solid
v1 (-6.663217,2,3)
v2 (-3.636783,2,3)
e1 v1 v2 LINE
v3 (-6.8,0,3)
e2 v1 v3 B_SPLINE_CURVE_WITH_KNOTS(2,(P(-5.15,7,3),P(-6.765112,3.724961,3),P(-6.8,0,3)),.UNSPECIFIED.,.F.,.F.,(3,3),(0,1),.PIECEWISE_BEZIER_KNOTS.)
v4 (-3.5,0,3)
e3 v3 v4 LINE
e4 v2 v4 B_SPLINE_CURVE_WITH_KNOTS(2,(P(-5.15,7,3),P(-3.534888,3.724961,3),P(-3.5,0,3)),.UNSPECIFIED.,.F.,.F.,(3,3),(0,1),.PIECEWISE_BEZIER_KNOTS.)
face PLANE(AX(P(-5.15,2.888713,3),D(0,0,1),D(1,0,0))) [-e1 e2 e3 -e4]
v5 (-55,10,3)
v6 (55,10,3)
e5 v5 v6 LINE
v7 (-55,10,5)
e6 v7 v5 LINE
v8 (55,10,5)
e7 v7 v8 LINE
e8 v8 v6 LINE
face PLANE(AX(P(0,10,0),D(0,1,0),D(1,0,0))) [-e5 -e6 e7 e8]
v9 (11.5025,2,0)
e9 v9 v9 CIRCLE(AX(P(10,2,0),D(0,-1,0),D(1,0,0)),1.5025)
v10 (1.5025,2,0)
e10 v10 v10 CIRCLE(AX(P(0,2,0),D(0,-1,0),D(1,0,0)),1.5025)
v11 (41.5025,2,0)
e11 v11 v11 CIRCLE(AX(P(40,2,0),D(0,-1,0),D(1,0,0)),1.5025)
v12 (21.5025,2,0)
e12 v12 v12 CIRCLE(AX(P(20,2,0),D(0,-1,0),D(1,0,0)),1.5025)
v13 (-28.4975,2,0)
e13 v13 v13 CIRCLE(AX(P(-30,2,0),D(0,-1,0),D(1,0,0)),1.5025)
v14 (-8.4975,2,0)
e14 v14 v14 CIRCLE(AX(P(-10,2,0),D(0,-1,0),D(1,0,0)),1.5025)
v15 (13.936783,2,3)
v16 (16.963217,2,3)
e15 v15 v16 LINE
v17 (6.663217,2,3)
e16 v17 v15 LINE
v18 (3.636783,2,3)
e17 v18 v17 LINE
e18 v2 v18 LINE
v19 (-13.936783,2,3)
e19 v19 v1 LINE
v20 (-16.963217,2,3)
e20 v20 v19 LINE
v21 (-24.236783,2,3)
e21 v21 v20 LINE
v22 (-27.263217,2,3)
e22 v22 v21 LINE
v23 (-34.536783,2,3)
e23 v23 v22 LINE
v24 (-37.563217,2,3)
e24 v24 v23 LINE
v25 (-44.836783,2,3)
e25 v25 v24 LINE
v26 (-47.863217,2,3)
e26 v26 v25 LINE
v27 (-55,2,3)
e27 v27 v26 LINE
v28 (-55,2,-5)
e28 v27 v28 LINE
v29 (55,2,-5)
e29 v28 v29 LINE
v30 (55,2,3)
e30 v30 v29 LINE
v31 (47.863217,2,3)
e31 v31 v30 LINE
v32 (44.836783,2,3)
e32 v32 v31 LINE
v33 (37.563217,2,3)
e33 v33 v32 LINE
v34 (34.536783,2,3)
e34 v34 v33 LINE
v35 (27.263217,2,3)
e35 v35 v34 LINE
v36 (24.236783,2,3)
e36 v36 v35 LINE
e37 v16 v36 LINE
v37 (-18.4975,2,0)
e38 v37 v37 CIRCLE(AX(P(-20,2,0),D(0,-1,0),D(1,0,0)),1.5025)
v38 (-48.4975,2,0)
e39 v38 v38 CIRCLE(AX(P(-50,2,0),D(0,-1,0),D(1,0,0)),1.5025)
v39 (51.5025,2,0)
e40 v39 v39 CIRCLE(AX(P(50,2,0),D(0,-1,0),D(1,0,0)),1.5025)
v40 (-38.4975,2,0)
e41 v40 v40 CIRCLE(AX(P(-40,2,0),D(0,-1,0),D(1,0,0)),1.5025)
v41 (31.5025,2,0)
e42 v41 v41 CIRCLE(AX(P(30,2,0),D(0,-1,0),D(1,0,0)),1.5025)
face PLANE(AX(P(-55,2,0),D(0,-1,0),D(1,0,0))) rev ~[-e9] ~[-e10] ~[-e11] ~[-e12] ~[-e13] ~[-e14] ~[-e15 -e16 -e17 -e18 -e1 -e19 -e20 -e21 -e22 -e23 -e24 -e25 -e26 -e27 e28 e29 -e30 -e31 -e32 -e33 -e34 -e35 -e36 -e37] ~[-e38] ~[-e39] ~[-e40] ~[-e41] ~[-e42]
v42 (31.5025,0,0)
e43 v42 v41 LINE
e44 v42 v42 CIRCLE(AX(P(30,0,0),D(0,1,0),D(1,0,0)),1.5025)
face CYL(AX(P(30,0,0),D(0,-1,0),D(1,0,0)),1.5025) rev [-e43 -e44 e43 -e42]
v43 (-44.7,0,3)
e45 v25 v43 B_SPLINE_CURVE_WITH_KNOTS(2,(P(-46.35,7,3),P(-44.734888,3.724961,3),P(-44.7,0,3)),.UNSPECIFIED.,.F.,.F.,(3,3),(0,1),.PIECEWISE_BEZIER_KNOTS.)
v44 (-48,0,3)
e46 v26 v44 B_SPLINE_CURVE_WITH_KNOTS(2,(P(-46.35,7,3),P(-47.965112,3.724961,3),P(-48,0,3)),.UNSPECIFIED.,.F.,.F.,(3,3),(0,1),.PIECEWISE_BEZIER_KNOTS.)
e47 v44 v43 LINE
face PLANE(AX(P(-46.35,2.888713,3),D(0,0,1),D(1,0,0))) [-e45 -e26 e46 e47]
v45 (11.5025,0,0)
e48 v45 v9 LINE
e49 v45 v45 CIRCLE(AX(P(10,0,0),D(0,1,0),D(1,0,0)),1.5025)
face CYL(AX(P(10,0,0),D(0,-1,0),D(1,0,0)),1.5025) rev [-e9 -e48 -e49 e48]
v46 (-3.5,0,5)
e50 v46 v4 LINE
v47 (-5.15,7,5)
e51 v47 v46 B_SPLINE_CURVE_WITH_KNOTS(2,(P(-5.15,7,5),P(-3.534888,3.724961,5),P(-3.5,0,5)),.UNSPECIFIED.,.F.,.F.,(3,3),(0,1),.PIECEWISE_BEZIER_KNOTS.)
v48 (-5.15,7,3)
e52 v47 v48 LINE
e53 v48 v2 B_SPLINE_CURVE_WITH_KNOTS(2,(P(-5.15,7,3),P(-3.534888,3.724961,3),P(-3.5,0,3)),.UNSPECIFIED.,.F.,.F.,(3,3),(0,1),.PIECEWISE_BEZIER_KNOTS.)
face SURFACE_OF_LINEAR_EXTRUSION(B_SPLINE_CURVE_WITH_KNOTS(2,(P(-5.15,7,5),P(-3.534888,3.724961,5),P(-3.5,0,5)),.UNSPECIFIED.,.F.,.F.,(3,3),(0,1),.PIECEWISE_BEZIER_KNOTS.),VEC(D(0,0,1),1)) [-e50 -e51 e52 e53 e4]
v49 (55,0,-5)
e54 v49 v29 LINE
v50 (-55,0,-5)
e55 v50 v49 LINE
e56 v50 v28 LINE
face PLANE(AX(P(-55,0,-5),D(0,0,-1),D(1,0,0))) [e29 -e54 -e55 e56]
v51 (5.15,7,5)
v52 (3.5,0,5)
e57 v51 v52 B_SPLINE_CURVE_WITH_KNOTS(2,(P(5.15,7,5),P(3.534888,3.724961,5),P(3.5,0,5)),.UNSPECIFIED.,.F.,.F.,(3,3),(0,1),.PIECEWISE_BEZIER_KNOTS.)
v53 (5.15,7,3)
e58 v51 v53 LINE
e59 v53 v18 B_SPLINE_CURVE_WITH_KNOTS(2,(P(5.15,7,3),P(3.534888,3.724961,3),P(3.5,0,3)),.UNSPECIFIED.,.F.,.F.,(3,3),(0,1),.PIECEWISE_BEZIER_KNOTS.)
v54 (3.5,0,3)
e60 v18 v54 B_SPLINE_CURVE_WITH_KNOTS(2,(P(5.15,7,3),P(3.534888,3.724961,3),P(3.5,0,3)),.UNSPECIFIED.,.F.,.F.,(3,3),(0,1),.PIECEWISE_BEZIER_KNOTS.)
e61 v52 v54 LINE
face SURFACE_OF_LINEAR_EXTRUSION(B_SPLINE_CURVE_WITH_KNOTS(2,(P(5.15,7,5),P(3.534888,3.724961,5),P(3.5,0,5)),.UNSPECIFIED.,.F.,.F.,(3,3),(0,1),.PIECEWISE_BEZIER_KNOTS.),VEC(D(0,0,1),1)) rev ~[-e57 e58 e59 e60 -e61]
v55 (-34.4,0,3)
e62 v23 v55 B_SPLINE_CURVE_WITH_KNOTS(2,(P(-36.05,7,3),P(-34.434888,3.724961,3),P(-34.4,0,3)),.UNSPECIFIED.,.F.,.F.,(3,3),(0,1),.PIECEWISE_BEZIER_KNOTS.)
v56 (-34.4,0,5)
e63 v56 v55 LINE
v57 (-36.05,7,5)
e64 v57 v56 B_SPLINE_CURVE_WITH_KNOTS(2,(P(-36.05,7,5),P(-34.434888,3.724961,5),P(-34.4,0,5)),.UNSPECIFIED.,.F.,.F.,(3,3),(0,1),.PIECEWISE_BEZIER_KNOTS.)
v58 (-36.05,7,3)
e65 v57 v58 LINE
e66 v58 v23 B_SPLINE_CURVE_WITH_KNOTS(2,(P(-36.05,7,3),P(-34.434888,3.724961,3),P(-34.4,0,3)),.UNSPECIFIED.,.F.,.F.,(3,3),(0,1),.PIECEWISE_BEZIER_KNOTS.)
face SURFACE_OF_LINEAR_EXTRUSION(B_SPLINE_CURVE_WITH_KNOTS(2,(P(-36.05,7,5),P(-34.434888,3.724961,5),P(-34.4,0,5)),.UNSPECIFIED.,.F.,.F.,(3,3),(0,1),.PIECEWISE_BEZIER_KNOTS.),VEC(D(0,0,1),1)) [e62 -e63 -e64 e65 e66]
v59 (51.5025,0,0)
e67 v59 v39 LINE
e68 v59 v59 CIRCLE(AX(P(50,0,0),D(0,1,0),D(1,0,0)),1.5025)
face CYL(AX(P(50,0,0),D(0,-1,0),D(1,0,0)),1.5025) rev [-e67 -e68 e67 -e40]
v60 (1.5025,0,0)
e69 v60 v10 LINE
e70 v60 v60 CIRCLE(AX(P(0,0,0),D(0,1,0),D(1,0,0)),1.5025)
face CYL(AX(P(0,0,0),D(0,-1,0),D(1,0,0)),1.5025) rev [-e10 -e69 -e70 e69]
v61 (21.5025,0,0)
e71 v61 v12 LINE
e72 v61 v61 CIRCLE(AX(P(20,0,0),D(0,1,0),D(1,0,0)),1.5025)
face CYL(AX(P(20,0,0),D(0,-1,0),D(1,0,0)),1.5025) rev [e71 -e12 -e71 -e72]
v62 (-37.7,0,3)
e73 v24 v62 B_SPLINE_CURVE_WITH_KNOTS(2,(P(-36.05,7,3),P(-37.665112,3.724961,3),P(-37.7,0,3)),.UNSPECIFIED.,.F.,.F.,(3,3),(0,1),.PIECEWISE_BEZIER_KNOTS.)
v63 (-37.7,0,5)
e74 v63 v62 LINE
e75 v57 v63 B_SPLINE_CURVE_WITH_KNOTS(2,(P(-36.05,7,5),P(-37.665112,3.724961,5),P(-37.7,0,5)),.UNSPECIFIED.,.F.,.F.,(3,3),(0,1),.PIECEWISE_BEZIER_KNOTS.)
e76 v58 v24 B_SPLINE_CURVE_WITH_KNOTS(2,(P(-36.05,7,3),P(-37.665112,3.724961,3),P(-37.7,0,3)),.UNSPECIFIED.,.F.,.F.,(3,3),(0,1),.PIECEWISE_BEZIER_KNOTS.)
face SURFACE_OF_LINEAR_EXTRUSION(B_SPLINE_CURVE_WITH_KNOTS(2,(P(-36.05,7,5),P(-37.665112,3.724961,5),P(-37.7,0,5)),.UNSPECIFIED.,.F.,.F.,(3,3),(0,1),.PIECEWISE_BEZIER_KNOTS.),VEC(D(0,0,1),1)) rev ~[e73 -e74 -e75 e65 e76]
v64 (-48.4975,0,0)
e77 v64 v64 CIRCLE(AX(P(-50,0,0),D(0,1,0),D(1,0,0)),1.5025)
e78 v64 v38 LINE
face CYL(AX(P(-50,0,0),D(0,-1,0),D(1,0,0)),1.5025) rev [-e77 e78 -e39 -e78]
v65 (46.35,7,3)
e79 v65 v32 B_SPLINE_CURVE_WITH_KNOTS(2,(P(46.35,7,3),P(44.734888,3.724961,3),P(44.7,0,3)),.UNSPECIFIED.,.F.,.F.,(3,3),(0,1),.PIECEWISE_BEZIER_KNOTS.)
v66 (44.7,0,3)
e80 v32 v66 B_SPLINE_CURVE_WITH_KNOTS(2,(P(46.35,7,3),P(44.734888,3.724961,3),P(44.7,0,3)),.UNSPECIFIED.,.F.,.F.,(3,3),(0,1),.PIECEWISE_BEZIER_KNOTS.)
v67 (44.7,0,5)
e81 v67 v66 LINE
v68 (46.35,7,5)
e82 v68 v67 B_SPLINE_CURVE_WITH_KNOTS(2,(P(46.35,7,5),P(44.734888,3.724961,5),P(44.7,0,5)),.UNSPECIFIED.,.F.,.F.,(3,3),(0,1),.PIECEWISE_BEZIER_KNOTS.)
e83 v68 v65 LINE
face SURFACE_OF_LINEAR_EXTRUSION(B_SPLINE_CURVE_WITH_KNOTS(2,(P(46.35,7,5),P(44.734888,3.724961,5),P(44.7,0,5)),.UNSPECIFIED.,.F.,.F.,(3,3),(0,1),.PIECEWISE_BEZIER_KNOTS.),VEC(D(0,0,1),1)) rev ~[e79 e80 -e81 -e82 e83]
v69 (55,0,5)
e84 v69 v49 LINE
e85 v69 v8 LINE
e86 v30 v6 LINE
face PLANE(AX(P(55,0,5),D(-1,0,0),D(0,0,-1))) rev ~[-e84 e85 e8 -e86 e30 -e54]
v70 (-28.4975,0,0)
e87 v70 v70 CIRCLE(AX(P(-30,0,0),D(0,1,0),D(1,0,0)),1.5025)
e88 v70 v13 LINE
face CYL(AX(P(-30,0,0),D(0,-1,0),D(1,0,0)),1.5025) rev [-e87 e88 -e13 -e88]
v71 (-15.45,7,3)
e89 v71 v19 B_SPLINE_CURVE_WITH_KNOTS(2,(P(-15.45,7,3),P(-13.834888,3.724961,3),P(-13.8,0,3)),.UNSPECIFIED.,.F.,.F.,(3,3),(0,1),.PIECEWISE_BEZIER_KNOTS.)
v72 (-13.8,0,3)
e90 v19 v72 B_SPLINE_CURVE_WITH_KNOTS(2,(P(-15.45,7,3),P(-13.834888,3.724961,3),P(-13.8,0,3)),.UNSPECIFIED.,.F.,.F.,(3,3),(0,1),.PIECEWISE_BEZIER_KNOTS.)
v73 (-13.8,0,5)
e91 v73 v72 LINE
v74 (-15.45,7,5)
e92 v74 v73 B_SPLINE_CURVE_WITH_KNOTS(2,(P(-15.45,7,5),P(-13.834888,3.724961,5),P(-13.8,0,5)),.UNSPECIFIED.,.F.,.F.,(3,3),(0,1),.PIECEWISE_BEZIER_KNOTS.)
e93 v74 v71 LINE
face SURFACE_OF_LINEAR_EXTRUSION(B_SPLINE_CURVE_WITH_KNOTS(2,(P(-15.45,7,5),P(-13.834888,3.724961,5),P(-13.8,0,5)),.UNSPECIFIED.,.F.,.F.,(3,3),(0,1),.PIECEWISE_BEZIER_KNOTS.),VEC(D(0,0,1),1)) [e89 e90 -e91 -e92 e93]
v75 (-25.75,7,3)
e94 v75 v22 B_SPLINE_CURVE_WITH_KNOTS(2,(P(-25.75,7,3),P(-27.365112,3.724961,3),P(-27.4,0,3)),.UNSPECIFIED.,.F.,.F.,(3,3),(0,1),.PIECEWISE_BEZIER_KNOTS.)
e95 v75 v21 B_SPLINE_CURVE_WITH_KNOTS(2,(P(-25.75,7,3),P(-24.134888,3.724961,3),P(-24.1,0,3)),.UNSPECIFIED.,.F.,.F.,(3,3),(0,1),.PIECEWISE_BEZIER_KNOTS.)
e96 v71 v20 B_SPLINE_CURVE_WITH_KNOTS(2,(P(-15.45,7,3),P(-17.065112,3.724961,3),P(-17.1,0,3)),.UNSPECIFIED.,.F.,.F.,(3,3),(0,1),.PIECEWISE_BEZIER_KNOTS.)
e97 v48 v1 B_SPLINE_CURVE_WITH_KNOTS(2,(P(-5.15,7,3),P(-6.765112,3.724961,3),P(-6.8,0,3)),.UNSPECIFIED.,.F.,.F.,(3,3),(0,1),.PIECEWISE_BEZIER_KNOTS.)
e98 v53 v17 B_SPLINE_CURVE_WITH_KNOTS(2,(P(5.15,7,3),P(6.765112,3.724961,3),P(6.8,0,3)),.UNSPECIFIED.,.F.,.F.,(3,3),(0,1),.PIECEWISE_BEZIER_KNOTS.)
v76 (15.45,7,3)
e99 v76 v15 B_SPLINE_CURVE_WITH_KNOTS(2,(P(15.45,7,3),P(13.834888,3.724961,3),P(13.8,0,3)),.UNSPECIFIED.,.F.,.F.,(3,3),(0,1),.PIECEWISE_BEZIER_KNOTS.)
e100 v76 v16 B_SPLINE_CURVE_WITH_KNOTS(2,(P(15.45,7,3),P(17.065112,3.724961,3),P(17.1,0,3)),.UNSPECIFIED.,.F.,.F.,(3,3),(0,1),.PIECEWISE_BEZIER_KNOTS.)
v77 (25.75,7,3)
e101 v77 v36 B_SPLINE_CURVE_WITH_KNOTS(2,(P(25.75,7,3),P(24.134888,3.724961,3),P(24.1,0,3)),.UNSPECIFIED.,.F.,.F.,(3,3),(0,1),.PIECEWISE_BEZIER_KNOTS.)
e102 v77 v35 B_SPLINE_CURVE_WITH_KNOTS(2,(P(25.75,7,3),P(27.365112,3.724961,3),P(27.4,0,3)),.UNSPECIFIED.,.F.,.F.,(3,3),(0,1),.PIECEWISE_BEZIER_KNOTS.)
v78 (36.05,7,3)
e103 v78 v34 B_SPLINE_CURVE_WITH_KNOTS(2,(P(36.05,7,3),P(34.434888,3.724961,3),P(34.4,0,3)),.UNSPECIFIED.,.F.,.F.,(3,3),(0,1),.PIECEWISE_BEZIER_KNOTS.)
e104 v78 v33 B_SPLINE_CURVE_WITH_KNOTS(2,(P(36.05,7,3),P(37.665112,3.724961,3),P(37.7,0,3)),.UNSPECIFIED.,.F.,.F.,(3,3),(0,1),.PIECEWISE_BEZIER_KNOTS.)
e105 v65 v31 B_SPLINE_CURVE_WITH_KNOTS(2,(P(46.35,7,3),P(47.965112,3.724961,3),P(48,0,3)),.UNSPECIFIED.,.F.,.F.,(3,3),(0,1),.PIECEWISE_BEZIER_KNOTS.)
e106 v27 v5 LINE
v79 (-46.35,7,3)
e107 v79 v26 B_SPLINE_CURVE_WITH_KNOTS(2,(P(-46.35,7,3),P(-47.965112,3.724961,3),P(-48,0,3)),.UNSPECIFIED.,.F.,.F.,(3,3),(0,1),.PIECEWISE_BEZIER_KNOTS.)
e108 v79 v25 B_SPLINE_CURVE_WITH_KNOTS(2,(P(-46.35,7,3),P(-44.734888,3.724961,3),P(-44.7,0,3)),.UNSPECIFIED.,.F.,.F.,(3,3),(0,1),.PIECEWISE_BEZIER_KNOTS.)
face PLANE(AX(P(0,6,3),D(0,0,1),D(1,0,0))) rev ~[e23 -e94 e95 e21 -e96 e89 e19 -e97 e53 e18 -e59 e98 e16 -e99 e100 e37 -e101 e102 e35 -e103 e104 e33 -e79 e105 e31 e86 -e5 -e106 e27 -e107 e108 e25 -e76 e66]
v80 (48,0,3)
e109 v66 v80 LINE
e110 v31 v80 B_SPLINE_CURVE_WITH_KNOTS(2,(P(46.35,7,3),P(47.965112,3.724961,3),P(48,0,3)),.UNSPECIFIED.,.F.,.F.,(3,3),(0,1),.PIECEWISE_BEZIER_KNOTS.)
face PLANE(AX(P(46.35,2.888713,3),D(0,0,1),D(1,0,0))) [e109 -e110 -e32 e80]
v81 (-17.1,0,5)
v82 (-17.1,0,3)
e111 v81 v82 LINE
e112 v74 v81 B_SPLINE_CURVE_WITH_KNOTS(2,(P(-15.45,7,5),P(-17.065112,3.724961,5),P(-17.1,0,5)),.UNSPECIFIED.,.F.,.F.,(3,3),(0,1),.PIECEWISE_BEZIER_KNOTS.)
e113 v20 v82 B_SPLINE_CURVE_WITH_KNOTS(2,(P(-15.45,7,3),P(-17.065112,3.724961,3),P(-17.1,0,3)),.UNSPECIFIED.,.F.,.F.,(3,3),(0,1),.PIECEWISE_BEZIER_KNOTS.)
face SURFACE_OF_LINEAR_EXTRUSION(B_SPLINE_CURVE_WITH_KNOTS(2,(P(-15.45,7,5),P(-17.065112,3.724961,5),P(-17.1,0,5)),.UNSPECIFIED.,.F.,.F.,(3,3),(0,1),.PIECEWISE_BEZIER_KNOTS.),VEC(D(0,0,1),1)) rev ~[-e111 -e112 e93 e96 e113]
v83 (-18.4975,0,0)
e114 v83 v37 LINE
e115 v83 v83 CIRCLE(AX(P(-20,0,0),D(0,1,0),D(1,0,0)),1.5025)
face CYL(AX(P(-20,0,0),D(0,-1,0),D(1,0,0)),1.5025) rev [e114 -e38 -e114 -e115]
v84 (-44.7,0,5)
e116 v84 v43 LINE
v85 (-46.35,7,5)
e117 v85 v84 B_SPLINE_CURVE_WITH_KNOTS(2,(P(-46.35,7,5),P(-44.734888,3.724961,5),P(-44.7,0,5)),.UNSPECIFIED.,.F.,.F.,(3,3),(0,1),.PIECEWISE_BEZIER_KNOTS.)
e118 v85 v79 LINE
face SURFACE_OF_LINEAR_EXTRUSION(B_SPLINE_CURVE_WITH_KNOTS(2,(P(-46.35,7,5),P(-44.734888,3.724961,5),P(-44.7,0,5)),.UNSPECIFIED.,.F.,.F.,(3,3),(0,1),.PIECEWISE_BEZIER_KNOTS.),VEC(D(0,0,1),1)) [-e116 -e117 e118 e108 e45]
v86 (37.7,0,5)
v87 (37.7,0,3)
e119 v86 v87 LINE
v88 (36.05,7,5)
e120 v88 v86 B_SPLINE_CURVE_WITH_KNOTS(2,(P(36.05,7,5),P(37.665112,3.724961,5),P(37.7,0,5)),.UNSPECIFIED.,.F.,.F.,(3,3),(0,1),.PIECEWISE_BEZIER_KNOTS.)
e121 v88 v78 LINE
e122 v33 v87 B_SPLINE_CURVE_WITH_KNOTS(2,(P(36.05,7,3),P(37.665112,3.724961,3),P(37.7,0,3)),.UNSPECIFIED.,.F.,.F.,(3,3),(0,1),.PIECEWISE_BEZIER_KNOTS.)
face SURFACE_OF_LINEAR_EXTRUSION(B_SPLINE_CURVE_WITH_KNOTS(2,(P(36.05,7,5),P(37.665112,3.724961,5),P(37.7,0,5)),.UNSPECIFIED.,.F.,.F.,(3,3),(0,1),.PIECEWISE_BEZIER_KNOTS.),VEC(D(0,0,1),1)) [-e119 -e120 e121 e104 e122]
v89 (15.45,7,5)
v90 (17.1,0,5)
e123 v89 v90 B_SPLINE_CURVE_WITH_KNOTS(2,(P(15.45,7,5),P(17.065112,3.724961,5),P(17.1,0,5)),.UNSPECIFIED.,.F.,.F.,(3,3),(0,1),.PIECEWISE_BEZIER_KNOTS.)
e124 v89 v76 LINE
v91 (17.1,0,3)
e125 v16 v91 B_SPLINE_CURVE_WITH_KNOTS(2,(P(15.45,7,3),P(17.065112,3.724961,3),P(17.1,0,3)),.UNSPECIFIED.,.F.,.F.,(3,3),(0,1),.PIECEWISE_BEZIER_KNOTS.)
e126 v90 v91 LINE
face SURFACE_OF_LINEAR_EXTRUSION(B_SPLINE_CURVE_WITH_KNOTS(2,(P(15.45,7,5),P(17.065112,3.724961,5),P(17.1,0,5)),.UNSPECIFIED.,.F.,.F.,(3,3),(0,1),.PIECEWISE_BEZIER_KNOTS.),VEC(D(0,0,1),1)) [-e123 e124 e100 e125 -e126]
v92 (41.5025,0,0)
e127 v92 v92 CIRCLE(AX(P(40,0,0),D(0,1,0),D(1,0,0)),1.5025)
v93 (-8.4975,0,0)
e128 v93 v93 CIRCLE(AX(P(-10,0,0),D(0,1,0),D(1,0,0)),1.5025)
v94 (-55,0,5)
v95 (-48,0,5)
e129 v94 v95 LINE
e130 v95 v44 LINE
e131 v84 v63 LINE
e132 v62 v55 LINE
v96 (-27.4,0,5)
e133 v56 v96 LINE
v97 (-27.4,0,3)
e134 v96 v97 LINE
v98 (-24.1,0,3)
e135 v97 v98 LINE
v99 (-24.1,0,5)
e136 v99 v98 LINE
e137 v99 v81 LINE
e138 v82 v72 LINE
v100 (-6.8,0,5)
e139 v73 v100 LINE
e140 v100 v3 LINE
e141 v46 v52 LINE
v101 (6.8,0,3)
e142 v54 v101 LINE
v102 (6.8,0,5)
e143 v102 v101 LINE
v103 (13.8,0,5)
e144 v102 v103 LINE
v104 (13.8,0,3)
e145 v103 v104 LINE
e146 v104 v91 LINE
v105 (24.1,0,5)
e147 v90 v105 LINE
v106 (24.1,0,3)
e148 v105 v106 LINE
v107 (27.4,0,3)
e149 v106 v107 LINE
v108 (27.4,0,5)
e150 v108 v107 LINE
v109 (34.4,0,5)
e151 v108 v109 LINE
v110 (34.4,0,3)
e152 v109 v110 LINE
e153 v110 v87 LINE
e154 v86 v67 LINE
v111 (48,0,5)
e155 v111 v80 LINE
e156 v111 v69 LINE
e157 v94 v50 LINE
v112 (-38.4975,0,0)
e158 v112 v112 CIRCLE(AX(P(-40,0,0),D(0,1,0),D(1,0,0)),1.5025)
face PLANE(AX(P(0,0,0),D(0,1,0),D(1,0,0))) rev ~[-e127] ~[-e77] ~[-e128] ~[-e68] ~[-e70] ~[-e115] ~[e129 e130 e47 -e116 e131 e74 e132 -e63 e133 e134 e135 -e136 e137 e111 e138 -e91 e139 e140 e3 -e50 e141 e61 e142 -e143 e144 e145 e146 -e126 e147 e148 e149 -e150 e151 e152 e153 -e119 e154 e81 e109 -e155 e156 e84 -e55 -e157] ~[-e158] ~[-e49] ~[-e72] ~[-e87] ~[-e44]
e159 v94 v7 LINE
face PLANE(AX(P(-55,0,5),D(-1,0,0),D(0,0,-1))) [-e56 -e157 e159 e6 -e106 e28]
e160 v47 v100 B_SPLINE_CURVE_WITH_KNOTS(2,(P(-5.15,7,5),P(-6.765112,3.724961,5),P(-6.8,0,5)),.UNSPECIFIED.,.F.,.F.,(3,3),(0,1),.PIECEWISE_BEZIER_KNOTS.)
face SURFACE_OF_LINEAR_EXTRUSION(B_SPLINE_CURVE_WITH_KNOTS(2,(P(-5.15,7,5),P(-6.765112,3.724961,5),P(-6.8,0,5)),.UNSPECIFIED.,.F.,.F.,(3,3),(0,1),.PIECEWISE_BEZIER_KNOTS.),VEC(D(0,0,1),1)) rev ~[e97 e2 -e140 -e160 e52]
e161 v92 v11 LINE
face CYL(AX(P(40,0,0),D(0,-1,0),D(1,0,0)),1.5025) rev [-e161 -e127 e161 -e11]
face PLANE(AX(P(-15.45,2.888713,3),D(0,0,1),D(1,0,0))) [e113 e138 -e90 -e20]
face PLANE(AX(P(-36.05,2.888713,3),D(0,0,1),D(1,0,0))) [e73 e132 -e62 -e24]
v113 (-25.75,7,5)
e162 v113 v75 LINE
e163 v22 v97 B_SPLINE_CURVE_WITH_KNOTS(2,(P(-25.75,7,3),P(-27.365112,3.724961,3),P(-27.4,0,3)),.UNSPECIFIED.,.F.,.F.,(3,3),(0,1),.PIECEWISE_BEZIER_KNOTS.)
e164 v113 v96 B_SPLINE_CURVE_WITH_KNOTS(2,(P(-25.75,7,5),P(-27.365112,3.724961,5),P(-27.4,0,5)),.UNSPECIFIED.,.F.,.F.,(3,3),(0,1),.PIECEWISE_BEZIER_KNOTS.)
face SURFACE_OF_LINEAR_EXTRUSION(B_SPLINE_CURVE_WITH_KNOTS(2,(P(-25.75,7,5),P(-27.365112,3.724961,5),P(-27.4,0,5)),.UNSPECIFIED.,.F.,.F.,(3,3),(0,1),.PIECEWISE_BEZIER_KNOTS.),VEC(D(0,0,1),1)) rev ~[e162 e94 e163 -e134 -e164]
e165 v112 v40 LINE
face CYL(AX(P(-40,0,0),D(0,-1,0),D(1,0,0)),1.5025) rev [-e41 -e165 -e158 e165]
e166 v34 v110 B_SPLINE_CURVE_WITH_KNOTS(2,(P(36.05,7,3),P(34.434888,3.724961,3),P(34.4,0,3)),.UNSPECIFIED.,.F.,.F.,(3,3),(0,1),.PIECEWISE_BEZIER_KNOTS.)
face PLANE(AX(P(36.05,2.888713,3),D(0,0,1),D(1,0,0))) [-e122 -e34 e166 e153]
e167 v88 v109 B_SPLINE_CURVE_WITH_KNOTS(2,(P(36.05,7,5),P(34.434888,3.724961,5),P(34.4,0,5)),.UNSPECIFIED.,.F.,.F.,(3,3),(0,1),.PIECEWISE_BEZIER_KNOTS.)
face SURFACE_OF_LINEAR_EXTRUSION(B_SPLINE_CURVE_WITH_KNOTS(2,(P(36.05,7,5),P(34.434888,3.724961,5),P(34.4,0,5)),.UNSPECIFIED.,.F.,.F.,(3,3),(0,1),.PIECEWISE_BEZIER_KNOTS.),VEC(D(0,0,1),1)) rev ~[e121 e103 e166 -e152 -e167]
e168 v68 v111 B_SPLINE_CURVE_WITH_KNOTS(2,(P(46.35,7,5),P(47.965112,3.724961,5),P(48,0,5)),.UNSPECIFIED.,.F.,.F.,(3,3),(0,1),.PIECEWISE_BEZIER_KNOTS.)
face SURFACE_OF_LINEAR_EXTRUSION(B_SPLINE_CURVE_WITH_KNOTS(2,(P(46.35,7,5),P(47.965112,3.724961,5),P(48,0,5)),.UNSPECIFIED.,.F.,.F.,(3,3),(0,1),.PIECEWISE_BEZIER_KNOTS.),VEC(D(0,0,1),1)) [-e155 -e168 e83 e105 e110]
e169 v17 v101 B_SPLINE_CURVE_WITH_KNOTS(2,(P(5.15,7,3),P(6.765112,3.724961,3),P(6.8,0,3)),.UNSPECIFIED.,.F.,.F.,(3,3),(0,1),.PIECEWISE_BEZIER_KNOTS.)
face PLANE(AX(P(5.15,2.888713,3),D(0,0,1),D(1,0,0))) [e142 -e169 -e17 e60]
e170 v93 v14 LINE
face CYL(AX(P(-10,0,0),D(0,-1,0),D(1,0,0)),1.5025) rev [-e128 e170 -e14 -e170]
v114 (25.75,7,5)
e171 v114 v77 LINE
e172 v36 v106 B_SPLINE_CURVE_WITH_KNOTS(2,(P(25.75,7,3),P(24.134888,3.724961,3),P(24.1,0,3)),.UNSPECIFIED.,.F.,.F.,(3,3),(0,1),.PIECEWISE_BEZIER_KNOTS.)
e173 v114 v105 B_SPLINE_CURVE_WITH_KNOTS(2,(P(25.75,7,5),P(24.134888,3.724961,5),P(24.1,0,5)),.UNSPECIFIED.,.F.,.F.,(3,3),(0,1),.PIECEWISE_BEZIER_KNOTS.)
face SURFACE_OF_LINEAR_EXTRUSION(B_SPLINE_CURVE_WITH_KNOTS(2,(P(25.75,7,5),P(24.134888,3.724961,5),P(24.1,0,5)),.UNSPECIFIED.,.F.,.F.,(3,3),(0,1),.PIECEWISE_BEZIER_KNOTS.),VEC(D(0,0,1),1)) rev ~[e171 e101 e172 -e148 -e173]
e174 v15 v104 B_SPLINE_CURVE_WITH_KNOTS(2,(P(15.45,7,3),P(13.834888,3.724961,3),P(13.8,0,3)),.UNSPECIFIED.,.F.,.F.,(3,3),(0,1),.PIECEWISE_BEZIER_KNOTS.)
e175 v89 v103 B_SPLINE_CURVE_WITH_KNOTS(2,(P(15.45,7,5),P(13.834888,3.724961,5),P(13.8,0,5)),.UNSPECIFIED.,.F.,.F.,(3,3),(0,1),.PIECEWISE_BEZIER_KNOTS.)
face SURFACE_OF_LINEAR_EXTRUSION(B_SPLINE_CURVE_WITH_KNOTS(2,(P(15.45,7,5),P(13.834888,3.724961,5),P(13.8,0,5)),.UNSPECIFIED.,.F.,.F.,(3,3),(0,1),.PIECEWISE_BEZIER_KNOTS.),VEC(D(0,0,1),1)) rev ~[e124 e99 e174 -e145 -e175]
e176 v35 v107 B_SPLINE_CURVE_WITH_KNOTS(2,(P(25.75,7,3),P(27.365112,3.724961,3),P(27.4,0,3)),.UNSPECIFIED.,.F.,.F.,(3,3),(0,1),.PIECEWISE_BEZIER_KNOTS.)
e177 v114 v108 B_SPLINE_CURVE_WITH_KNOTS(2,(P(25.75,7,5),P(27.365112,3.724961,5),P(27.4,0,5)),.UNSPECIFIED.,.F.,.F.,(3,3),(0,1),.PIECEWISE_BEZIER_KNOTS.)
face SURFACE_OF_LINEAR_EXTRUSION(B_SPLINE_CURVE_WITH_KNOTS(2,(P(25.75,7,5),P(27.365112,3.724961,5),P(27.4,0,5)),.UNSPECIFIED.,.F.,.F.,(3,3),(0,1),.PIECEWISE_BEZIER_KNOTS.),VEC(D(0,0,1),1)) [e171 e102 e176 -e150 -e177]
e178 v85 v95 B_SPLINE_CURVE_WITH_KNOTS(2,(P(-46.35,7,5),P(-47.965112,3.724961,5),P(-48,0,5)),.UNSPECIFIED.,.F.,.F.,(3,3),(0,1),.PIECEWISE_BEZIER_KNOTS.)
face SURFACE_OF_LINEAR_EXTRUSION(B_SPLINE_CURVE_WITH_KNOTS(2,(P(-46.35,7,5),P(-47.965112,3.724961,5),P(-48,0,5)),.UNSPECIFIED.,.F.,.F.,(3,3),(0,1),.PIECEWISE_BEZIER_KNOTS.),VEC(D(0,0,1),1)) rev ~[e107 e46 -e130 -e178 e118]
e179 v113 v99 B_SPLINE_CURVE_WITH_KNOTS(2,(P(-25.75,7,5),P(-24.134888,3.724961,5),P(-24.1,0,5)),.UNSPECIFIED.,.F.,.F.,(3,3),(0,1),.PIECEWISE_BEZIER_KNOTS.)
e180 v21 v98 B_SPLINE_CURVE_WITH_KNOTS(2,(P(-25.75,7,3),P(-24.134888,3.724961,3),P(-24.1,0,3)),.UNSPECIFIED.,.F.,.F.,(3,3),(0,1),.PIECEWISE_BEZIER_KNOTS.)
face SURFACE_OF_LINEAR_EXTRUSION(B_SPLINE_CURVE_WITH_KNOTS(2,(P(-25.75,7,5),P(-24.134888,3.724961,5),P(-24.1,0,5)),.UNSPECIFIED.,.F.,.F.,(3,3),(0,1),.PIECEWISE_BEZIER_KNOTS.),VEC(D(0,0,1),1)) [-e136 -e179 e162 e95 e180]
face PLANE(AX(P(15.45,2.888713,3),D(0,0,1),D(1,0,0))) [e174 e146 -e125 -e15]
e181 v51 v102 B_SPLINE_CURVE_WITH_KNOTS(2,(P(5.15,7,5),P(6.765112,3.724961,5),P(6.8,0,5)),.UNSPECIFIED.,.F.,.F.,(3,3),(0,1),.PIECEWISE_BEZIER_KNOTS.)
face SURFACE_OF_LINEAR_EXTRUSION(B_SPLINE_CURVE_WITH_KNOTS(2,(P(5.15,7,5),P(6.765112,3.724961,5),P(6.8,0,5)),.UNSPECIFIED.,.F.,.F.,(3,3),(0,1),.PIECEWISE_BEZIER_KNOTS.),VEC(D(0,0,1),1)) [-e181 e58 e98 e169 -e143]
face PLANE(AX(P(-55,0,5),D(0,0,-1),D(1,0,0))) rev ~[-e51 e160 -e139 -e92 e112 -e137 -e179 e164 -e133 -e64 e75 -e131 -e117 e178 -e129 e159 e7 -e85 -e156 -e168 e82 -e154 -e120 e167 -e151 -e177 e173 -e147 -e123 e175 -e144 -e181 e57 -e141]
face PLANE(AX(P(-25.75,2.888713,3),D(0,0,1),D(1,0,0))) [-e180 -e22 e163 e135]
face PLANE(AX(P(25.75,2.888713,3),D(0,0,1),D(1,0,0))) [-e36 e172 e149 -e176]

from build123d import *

# Parameters (mm, degrees)
SKETCH1_W                      = 110
SKETCH1_H                      = 10
SKETCH1_R                      = 1.5025
BOSS_EXTRUDE1_DEPTH            = 10
CUT_EXTRUDE1_REACH             = 7
SKETCH2_W                      = 110
SKETCH2_H                      = 8
CUT_EXTRUDE1_DIRECTION_2_DEPTH = 3
CUT_EXTRUDE2_DEPTH             = 2


with BuildPart() as part:
    # Sketch1 → Boss-Extrude1 (new body)
    with BuildSketch(Plane(origin=(0, 0, 0), x_dir=(1, 0, 0), z_dir=(0, 1, 0))):
        Rectangle(SKETCH1_W, SKETCH1_H)
        with Locations((-50, 0)):
            Circle(SKETCH1_R, mode=Mode.SUBTRACT)
        with Locations((-40, 0)):
            Circle(SKETCH1_R, mode=Mode.SUBTRACT)
        with Locations((-30, 0)):
            Circle(SKETCH1_R, mode=Mode.SUBTRACT)
        with Locations((-20, 0)):
            Circle(SKETCH1_R, mode=Mode.SUBTRACT)
        with Locations((-10, 0)):
            Circle(SKETCH1_R, mode=Mode.SUBTRACT)
        Circle(SKETCH1_R, mode=Mode.SUBTRACT)
        with Locations((10, 0)):
            Circle(SKETCH1_R, mode=Mode.SUBTRACT)
        with Locations((20, 0)):
            Circle(SKETCH1_R, mode=Mode.SUBTRACT)
        with Locations((30, 0)):
            Circle(SKETCH1_R, mode=Mode.SUBTRACT)
        with Locations((40, 0)):
            Circle(SKETCH1_R, mode=Mode.SUBTRACT)
        with Locations((50, 0)):
            Circle(SKETCH1_R, mode=Mode.SUBTRACT)
    extrude(amount=BOSS_EXTRUDE1_DEPTH)

    # Sketch2 → Cut-Extrude1 (cut, up to next)
    with BuildSketch(Plane.XY, mode=Mode.PRIVATE) as cut_extrude1_sk1:
        with Locations((0, 6)):
            Rectangle(SKETCH2_W, SKETCH2_H)
    cut_extrude1_tool1 = extrude(cut_extrude1_sk1.sketch, amount=-CUT_EXTRUDE1_REACH, mode=Mode.PRIVATE) & part.part
    add(cut_extrude1_tool1.solids().sort_by_distance((0, 6, 0))[0], mode=Mode.SUBTRACT)

    # Sketch2 → Cut-Extrude1 direction 2 (cut)
    with BuildSketch(Plane.XY):
        with Locations((0, 6)):
            Rectangle(SKETCH2_W, SKETCH2_H)
    extrude(amount=CUT_EXTRUDE1_DIRECTION_2_DEPTH, mode=Mode.SUBTRACT)

    # Sketch3 → Cut-Extrude2 (cut)
    with BuildSketch(Plane.XY.offset(5)):
        with BuildLine():
            Line((-37.7, 0), (-34.4, 0))
            add(Edge.make_bspline(
                [(-36.05, 7), (-34.434888234, 3.724961413), (-34.4, 0)],
                knots=[0, 0, 0, 1, 1, 1], degree=2))
            add(Edge.make_bspline(
                [(-36.05, 7), (-37.665111766, 3.724961413), (-37.7, 0)],
                knots=[0, 0, 0, 1, 1, 1], degree=2))
        make_face()
        with BuildLine():
            Line((-48, 0), (-44.7, 0))
            add(Edge.make_bspline(
                [(-46.35, 7), (-44.734888234, 3.724961413), (-44.7, 0)],
                knots=[0, 0, 0, 1, 1, 1], degree=2))
            add(Edge.make_bspline(
                [(-46.35, 7), (-47.965111766, 3.724961413), (-48, 0)],
                knots=[0, 0, 0, 1, 1, 1], degree=2))
        make_face()
        with BuildLine():
            Line((-27.4, 0), (-24.1, 0))
            add(Edge.make_bspline(
                [(-25.75, 7), (-24.134888234, 3.724961413), (-24.1, 0)],
                knots=[0, 0, 0, 1, 1, 1], degree=2))
            add(Edge.make_bspline(
                [(-25.75, 7), (-27.365111766, 3.724961413), (-27.4, 0)],
                knots=[0, 0, 0, 1, 1, 1], degree=2))
        make_face()
        with BuildLine():
            Line((-17.1, 0), (-13.8, 0))
            add(Edge.make_bspline(
                [(-15.45, 7), (-13.834888234, 3.724961413), (-13.8, 0)],
                knots=[0, 0, 0, 1, 1, 1], degree=2))
            add(Edge.make_bspline(
                [(-15.45, 7), (-17.065111766, 3.724961413), (-17.1, 0)],
                knots=[0, 0, 0, 1, 1, 1], degree=2))
        make_face()
        with BuildLine():
            Line((-6.8, 0), (-3.5, 0))
            add(Edge.make_bspline(
                [(-5.15, 7), (-3.534888234, 3.724961413), (-3.5, 0)],
                knots=[0, 0, 0, 1, 1, 1], degree=2))
            add(Edge.make_bspline(
                [(-5.15, 7), (-6.765111766, 3.724961413), (-6.8, 0)],
                knots=[0, 0, 0, 1, 1, 1], degree=2))
        make_face()
        with BuildLine():
            Line((3.5, 0), (6.8, 0))
            add(Edge.make_bspline(
                [(5.15, 7), (6.765111766, 3.724961413), (6.8, 0)],
                knots=[0, 0, 0, 1, 1, 1], degree=2))
            add(Edge.make_bspline(
                [(5.15, 7), (3.534888234, 3.724961413), (3.5, 0)],
                knots=[0, 0, 0, 1, 1, 1], degree=2))
        make_face()
        with BuildLine():
            Line((13.8, 0), (17.1, 0))
            add(Edge.make_bspline(
                [(15.45, 7), (17.065111766, 3.724961413), (17.1, 0)],
                knots=[0, 0, 0, 1, 1, 1], degree=2))
            add(Edge.make_bspline(
                [(15.45, 7), (13.834888234, 3.724961413), (13.8, 0)],
                knots=[0, 0, 0, 1, 1, 1], degree=2))
        make_face()
        with BuildLine():
            Line((24.1, 0), (27.4, 0))
            add(Edge.make_bspline(
                [(25.75, 7), (27.365111766, 3.724961413), (27.4, 0)],
                knots=[0, 0, 0, 1, 1, 1], degree=2))
            add(Edge.make_bspline(
                [(25.75, 7), (24.134888234, 3.724961413), (24.1, 0)],
                knots=[0, 0, 0, 1, 1, 1], degree=2))
        make_face()
        with BuildLine():
            Line((34.4, 0), (37.7, 0))
            add(Edge.make_bspline(
                [(36.05, 7), (37.665111766, 3.724961413), (37.7, 0)],
                knots=[0, 0, 0, 1, 1, 1], degree=2))
            add(Edge.make_bspline(
                [(36.05, 7), (34.434888234, 3.724961413), (34.4, 0)],
                knots=[0, 0, 0, 1, 1, 1], degree=2))
        make_face()
        with BuildLine():
            Line((44.7, 0), (48, 0))
            add(Edge.make_bspline(
                [(46.35, 7), (47.965111766, 3.724961413), (48, 0)],
                knots=[0, 0, 0, 1, 1, 1], degree=2))
            add(Edge.make_bspline(
                [(46.35, 7), (44.734888234, 3.724961413), (44.7, 0)],
                knots=[0, 0, 0, 1, 1, 1], degree=2))
        make_face()
    extrude(amount=-CUT_EXTRUDE2_DEPTH, mode=Mode.SUBTRACT)


solid = part.part
